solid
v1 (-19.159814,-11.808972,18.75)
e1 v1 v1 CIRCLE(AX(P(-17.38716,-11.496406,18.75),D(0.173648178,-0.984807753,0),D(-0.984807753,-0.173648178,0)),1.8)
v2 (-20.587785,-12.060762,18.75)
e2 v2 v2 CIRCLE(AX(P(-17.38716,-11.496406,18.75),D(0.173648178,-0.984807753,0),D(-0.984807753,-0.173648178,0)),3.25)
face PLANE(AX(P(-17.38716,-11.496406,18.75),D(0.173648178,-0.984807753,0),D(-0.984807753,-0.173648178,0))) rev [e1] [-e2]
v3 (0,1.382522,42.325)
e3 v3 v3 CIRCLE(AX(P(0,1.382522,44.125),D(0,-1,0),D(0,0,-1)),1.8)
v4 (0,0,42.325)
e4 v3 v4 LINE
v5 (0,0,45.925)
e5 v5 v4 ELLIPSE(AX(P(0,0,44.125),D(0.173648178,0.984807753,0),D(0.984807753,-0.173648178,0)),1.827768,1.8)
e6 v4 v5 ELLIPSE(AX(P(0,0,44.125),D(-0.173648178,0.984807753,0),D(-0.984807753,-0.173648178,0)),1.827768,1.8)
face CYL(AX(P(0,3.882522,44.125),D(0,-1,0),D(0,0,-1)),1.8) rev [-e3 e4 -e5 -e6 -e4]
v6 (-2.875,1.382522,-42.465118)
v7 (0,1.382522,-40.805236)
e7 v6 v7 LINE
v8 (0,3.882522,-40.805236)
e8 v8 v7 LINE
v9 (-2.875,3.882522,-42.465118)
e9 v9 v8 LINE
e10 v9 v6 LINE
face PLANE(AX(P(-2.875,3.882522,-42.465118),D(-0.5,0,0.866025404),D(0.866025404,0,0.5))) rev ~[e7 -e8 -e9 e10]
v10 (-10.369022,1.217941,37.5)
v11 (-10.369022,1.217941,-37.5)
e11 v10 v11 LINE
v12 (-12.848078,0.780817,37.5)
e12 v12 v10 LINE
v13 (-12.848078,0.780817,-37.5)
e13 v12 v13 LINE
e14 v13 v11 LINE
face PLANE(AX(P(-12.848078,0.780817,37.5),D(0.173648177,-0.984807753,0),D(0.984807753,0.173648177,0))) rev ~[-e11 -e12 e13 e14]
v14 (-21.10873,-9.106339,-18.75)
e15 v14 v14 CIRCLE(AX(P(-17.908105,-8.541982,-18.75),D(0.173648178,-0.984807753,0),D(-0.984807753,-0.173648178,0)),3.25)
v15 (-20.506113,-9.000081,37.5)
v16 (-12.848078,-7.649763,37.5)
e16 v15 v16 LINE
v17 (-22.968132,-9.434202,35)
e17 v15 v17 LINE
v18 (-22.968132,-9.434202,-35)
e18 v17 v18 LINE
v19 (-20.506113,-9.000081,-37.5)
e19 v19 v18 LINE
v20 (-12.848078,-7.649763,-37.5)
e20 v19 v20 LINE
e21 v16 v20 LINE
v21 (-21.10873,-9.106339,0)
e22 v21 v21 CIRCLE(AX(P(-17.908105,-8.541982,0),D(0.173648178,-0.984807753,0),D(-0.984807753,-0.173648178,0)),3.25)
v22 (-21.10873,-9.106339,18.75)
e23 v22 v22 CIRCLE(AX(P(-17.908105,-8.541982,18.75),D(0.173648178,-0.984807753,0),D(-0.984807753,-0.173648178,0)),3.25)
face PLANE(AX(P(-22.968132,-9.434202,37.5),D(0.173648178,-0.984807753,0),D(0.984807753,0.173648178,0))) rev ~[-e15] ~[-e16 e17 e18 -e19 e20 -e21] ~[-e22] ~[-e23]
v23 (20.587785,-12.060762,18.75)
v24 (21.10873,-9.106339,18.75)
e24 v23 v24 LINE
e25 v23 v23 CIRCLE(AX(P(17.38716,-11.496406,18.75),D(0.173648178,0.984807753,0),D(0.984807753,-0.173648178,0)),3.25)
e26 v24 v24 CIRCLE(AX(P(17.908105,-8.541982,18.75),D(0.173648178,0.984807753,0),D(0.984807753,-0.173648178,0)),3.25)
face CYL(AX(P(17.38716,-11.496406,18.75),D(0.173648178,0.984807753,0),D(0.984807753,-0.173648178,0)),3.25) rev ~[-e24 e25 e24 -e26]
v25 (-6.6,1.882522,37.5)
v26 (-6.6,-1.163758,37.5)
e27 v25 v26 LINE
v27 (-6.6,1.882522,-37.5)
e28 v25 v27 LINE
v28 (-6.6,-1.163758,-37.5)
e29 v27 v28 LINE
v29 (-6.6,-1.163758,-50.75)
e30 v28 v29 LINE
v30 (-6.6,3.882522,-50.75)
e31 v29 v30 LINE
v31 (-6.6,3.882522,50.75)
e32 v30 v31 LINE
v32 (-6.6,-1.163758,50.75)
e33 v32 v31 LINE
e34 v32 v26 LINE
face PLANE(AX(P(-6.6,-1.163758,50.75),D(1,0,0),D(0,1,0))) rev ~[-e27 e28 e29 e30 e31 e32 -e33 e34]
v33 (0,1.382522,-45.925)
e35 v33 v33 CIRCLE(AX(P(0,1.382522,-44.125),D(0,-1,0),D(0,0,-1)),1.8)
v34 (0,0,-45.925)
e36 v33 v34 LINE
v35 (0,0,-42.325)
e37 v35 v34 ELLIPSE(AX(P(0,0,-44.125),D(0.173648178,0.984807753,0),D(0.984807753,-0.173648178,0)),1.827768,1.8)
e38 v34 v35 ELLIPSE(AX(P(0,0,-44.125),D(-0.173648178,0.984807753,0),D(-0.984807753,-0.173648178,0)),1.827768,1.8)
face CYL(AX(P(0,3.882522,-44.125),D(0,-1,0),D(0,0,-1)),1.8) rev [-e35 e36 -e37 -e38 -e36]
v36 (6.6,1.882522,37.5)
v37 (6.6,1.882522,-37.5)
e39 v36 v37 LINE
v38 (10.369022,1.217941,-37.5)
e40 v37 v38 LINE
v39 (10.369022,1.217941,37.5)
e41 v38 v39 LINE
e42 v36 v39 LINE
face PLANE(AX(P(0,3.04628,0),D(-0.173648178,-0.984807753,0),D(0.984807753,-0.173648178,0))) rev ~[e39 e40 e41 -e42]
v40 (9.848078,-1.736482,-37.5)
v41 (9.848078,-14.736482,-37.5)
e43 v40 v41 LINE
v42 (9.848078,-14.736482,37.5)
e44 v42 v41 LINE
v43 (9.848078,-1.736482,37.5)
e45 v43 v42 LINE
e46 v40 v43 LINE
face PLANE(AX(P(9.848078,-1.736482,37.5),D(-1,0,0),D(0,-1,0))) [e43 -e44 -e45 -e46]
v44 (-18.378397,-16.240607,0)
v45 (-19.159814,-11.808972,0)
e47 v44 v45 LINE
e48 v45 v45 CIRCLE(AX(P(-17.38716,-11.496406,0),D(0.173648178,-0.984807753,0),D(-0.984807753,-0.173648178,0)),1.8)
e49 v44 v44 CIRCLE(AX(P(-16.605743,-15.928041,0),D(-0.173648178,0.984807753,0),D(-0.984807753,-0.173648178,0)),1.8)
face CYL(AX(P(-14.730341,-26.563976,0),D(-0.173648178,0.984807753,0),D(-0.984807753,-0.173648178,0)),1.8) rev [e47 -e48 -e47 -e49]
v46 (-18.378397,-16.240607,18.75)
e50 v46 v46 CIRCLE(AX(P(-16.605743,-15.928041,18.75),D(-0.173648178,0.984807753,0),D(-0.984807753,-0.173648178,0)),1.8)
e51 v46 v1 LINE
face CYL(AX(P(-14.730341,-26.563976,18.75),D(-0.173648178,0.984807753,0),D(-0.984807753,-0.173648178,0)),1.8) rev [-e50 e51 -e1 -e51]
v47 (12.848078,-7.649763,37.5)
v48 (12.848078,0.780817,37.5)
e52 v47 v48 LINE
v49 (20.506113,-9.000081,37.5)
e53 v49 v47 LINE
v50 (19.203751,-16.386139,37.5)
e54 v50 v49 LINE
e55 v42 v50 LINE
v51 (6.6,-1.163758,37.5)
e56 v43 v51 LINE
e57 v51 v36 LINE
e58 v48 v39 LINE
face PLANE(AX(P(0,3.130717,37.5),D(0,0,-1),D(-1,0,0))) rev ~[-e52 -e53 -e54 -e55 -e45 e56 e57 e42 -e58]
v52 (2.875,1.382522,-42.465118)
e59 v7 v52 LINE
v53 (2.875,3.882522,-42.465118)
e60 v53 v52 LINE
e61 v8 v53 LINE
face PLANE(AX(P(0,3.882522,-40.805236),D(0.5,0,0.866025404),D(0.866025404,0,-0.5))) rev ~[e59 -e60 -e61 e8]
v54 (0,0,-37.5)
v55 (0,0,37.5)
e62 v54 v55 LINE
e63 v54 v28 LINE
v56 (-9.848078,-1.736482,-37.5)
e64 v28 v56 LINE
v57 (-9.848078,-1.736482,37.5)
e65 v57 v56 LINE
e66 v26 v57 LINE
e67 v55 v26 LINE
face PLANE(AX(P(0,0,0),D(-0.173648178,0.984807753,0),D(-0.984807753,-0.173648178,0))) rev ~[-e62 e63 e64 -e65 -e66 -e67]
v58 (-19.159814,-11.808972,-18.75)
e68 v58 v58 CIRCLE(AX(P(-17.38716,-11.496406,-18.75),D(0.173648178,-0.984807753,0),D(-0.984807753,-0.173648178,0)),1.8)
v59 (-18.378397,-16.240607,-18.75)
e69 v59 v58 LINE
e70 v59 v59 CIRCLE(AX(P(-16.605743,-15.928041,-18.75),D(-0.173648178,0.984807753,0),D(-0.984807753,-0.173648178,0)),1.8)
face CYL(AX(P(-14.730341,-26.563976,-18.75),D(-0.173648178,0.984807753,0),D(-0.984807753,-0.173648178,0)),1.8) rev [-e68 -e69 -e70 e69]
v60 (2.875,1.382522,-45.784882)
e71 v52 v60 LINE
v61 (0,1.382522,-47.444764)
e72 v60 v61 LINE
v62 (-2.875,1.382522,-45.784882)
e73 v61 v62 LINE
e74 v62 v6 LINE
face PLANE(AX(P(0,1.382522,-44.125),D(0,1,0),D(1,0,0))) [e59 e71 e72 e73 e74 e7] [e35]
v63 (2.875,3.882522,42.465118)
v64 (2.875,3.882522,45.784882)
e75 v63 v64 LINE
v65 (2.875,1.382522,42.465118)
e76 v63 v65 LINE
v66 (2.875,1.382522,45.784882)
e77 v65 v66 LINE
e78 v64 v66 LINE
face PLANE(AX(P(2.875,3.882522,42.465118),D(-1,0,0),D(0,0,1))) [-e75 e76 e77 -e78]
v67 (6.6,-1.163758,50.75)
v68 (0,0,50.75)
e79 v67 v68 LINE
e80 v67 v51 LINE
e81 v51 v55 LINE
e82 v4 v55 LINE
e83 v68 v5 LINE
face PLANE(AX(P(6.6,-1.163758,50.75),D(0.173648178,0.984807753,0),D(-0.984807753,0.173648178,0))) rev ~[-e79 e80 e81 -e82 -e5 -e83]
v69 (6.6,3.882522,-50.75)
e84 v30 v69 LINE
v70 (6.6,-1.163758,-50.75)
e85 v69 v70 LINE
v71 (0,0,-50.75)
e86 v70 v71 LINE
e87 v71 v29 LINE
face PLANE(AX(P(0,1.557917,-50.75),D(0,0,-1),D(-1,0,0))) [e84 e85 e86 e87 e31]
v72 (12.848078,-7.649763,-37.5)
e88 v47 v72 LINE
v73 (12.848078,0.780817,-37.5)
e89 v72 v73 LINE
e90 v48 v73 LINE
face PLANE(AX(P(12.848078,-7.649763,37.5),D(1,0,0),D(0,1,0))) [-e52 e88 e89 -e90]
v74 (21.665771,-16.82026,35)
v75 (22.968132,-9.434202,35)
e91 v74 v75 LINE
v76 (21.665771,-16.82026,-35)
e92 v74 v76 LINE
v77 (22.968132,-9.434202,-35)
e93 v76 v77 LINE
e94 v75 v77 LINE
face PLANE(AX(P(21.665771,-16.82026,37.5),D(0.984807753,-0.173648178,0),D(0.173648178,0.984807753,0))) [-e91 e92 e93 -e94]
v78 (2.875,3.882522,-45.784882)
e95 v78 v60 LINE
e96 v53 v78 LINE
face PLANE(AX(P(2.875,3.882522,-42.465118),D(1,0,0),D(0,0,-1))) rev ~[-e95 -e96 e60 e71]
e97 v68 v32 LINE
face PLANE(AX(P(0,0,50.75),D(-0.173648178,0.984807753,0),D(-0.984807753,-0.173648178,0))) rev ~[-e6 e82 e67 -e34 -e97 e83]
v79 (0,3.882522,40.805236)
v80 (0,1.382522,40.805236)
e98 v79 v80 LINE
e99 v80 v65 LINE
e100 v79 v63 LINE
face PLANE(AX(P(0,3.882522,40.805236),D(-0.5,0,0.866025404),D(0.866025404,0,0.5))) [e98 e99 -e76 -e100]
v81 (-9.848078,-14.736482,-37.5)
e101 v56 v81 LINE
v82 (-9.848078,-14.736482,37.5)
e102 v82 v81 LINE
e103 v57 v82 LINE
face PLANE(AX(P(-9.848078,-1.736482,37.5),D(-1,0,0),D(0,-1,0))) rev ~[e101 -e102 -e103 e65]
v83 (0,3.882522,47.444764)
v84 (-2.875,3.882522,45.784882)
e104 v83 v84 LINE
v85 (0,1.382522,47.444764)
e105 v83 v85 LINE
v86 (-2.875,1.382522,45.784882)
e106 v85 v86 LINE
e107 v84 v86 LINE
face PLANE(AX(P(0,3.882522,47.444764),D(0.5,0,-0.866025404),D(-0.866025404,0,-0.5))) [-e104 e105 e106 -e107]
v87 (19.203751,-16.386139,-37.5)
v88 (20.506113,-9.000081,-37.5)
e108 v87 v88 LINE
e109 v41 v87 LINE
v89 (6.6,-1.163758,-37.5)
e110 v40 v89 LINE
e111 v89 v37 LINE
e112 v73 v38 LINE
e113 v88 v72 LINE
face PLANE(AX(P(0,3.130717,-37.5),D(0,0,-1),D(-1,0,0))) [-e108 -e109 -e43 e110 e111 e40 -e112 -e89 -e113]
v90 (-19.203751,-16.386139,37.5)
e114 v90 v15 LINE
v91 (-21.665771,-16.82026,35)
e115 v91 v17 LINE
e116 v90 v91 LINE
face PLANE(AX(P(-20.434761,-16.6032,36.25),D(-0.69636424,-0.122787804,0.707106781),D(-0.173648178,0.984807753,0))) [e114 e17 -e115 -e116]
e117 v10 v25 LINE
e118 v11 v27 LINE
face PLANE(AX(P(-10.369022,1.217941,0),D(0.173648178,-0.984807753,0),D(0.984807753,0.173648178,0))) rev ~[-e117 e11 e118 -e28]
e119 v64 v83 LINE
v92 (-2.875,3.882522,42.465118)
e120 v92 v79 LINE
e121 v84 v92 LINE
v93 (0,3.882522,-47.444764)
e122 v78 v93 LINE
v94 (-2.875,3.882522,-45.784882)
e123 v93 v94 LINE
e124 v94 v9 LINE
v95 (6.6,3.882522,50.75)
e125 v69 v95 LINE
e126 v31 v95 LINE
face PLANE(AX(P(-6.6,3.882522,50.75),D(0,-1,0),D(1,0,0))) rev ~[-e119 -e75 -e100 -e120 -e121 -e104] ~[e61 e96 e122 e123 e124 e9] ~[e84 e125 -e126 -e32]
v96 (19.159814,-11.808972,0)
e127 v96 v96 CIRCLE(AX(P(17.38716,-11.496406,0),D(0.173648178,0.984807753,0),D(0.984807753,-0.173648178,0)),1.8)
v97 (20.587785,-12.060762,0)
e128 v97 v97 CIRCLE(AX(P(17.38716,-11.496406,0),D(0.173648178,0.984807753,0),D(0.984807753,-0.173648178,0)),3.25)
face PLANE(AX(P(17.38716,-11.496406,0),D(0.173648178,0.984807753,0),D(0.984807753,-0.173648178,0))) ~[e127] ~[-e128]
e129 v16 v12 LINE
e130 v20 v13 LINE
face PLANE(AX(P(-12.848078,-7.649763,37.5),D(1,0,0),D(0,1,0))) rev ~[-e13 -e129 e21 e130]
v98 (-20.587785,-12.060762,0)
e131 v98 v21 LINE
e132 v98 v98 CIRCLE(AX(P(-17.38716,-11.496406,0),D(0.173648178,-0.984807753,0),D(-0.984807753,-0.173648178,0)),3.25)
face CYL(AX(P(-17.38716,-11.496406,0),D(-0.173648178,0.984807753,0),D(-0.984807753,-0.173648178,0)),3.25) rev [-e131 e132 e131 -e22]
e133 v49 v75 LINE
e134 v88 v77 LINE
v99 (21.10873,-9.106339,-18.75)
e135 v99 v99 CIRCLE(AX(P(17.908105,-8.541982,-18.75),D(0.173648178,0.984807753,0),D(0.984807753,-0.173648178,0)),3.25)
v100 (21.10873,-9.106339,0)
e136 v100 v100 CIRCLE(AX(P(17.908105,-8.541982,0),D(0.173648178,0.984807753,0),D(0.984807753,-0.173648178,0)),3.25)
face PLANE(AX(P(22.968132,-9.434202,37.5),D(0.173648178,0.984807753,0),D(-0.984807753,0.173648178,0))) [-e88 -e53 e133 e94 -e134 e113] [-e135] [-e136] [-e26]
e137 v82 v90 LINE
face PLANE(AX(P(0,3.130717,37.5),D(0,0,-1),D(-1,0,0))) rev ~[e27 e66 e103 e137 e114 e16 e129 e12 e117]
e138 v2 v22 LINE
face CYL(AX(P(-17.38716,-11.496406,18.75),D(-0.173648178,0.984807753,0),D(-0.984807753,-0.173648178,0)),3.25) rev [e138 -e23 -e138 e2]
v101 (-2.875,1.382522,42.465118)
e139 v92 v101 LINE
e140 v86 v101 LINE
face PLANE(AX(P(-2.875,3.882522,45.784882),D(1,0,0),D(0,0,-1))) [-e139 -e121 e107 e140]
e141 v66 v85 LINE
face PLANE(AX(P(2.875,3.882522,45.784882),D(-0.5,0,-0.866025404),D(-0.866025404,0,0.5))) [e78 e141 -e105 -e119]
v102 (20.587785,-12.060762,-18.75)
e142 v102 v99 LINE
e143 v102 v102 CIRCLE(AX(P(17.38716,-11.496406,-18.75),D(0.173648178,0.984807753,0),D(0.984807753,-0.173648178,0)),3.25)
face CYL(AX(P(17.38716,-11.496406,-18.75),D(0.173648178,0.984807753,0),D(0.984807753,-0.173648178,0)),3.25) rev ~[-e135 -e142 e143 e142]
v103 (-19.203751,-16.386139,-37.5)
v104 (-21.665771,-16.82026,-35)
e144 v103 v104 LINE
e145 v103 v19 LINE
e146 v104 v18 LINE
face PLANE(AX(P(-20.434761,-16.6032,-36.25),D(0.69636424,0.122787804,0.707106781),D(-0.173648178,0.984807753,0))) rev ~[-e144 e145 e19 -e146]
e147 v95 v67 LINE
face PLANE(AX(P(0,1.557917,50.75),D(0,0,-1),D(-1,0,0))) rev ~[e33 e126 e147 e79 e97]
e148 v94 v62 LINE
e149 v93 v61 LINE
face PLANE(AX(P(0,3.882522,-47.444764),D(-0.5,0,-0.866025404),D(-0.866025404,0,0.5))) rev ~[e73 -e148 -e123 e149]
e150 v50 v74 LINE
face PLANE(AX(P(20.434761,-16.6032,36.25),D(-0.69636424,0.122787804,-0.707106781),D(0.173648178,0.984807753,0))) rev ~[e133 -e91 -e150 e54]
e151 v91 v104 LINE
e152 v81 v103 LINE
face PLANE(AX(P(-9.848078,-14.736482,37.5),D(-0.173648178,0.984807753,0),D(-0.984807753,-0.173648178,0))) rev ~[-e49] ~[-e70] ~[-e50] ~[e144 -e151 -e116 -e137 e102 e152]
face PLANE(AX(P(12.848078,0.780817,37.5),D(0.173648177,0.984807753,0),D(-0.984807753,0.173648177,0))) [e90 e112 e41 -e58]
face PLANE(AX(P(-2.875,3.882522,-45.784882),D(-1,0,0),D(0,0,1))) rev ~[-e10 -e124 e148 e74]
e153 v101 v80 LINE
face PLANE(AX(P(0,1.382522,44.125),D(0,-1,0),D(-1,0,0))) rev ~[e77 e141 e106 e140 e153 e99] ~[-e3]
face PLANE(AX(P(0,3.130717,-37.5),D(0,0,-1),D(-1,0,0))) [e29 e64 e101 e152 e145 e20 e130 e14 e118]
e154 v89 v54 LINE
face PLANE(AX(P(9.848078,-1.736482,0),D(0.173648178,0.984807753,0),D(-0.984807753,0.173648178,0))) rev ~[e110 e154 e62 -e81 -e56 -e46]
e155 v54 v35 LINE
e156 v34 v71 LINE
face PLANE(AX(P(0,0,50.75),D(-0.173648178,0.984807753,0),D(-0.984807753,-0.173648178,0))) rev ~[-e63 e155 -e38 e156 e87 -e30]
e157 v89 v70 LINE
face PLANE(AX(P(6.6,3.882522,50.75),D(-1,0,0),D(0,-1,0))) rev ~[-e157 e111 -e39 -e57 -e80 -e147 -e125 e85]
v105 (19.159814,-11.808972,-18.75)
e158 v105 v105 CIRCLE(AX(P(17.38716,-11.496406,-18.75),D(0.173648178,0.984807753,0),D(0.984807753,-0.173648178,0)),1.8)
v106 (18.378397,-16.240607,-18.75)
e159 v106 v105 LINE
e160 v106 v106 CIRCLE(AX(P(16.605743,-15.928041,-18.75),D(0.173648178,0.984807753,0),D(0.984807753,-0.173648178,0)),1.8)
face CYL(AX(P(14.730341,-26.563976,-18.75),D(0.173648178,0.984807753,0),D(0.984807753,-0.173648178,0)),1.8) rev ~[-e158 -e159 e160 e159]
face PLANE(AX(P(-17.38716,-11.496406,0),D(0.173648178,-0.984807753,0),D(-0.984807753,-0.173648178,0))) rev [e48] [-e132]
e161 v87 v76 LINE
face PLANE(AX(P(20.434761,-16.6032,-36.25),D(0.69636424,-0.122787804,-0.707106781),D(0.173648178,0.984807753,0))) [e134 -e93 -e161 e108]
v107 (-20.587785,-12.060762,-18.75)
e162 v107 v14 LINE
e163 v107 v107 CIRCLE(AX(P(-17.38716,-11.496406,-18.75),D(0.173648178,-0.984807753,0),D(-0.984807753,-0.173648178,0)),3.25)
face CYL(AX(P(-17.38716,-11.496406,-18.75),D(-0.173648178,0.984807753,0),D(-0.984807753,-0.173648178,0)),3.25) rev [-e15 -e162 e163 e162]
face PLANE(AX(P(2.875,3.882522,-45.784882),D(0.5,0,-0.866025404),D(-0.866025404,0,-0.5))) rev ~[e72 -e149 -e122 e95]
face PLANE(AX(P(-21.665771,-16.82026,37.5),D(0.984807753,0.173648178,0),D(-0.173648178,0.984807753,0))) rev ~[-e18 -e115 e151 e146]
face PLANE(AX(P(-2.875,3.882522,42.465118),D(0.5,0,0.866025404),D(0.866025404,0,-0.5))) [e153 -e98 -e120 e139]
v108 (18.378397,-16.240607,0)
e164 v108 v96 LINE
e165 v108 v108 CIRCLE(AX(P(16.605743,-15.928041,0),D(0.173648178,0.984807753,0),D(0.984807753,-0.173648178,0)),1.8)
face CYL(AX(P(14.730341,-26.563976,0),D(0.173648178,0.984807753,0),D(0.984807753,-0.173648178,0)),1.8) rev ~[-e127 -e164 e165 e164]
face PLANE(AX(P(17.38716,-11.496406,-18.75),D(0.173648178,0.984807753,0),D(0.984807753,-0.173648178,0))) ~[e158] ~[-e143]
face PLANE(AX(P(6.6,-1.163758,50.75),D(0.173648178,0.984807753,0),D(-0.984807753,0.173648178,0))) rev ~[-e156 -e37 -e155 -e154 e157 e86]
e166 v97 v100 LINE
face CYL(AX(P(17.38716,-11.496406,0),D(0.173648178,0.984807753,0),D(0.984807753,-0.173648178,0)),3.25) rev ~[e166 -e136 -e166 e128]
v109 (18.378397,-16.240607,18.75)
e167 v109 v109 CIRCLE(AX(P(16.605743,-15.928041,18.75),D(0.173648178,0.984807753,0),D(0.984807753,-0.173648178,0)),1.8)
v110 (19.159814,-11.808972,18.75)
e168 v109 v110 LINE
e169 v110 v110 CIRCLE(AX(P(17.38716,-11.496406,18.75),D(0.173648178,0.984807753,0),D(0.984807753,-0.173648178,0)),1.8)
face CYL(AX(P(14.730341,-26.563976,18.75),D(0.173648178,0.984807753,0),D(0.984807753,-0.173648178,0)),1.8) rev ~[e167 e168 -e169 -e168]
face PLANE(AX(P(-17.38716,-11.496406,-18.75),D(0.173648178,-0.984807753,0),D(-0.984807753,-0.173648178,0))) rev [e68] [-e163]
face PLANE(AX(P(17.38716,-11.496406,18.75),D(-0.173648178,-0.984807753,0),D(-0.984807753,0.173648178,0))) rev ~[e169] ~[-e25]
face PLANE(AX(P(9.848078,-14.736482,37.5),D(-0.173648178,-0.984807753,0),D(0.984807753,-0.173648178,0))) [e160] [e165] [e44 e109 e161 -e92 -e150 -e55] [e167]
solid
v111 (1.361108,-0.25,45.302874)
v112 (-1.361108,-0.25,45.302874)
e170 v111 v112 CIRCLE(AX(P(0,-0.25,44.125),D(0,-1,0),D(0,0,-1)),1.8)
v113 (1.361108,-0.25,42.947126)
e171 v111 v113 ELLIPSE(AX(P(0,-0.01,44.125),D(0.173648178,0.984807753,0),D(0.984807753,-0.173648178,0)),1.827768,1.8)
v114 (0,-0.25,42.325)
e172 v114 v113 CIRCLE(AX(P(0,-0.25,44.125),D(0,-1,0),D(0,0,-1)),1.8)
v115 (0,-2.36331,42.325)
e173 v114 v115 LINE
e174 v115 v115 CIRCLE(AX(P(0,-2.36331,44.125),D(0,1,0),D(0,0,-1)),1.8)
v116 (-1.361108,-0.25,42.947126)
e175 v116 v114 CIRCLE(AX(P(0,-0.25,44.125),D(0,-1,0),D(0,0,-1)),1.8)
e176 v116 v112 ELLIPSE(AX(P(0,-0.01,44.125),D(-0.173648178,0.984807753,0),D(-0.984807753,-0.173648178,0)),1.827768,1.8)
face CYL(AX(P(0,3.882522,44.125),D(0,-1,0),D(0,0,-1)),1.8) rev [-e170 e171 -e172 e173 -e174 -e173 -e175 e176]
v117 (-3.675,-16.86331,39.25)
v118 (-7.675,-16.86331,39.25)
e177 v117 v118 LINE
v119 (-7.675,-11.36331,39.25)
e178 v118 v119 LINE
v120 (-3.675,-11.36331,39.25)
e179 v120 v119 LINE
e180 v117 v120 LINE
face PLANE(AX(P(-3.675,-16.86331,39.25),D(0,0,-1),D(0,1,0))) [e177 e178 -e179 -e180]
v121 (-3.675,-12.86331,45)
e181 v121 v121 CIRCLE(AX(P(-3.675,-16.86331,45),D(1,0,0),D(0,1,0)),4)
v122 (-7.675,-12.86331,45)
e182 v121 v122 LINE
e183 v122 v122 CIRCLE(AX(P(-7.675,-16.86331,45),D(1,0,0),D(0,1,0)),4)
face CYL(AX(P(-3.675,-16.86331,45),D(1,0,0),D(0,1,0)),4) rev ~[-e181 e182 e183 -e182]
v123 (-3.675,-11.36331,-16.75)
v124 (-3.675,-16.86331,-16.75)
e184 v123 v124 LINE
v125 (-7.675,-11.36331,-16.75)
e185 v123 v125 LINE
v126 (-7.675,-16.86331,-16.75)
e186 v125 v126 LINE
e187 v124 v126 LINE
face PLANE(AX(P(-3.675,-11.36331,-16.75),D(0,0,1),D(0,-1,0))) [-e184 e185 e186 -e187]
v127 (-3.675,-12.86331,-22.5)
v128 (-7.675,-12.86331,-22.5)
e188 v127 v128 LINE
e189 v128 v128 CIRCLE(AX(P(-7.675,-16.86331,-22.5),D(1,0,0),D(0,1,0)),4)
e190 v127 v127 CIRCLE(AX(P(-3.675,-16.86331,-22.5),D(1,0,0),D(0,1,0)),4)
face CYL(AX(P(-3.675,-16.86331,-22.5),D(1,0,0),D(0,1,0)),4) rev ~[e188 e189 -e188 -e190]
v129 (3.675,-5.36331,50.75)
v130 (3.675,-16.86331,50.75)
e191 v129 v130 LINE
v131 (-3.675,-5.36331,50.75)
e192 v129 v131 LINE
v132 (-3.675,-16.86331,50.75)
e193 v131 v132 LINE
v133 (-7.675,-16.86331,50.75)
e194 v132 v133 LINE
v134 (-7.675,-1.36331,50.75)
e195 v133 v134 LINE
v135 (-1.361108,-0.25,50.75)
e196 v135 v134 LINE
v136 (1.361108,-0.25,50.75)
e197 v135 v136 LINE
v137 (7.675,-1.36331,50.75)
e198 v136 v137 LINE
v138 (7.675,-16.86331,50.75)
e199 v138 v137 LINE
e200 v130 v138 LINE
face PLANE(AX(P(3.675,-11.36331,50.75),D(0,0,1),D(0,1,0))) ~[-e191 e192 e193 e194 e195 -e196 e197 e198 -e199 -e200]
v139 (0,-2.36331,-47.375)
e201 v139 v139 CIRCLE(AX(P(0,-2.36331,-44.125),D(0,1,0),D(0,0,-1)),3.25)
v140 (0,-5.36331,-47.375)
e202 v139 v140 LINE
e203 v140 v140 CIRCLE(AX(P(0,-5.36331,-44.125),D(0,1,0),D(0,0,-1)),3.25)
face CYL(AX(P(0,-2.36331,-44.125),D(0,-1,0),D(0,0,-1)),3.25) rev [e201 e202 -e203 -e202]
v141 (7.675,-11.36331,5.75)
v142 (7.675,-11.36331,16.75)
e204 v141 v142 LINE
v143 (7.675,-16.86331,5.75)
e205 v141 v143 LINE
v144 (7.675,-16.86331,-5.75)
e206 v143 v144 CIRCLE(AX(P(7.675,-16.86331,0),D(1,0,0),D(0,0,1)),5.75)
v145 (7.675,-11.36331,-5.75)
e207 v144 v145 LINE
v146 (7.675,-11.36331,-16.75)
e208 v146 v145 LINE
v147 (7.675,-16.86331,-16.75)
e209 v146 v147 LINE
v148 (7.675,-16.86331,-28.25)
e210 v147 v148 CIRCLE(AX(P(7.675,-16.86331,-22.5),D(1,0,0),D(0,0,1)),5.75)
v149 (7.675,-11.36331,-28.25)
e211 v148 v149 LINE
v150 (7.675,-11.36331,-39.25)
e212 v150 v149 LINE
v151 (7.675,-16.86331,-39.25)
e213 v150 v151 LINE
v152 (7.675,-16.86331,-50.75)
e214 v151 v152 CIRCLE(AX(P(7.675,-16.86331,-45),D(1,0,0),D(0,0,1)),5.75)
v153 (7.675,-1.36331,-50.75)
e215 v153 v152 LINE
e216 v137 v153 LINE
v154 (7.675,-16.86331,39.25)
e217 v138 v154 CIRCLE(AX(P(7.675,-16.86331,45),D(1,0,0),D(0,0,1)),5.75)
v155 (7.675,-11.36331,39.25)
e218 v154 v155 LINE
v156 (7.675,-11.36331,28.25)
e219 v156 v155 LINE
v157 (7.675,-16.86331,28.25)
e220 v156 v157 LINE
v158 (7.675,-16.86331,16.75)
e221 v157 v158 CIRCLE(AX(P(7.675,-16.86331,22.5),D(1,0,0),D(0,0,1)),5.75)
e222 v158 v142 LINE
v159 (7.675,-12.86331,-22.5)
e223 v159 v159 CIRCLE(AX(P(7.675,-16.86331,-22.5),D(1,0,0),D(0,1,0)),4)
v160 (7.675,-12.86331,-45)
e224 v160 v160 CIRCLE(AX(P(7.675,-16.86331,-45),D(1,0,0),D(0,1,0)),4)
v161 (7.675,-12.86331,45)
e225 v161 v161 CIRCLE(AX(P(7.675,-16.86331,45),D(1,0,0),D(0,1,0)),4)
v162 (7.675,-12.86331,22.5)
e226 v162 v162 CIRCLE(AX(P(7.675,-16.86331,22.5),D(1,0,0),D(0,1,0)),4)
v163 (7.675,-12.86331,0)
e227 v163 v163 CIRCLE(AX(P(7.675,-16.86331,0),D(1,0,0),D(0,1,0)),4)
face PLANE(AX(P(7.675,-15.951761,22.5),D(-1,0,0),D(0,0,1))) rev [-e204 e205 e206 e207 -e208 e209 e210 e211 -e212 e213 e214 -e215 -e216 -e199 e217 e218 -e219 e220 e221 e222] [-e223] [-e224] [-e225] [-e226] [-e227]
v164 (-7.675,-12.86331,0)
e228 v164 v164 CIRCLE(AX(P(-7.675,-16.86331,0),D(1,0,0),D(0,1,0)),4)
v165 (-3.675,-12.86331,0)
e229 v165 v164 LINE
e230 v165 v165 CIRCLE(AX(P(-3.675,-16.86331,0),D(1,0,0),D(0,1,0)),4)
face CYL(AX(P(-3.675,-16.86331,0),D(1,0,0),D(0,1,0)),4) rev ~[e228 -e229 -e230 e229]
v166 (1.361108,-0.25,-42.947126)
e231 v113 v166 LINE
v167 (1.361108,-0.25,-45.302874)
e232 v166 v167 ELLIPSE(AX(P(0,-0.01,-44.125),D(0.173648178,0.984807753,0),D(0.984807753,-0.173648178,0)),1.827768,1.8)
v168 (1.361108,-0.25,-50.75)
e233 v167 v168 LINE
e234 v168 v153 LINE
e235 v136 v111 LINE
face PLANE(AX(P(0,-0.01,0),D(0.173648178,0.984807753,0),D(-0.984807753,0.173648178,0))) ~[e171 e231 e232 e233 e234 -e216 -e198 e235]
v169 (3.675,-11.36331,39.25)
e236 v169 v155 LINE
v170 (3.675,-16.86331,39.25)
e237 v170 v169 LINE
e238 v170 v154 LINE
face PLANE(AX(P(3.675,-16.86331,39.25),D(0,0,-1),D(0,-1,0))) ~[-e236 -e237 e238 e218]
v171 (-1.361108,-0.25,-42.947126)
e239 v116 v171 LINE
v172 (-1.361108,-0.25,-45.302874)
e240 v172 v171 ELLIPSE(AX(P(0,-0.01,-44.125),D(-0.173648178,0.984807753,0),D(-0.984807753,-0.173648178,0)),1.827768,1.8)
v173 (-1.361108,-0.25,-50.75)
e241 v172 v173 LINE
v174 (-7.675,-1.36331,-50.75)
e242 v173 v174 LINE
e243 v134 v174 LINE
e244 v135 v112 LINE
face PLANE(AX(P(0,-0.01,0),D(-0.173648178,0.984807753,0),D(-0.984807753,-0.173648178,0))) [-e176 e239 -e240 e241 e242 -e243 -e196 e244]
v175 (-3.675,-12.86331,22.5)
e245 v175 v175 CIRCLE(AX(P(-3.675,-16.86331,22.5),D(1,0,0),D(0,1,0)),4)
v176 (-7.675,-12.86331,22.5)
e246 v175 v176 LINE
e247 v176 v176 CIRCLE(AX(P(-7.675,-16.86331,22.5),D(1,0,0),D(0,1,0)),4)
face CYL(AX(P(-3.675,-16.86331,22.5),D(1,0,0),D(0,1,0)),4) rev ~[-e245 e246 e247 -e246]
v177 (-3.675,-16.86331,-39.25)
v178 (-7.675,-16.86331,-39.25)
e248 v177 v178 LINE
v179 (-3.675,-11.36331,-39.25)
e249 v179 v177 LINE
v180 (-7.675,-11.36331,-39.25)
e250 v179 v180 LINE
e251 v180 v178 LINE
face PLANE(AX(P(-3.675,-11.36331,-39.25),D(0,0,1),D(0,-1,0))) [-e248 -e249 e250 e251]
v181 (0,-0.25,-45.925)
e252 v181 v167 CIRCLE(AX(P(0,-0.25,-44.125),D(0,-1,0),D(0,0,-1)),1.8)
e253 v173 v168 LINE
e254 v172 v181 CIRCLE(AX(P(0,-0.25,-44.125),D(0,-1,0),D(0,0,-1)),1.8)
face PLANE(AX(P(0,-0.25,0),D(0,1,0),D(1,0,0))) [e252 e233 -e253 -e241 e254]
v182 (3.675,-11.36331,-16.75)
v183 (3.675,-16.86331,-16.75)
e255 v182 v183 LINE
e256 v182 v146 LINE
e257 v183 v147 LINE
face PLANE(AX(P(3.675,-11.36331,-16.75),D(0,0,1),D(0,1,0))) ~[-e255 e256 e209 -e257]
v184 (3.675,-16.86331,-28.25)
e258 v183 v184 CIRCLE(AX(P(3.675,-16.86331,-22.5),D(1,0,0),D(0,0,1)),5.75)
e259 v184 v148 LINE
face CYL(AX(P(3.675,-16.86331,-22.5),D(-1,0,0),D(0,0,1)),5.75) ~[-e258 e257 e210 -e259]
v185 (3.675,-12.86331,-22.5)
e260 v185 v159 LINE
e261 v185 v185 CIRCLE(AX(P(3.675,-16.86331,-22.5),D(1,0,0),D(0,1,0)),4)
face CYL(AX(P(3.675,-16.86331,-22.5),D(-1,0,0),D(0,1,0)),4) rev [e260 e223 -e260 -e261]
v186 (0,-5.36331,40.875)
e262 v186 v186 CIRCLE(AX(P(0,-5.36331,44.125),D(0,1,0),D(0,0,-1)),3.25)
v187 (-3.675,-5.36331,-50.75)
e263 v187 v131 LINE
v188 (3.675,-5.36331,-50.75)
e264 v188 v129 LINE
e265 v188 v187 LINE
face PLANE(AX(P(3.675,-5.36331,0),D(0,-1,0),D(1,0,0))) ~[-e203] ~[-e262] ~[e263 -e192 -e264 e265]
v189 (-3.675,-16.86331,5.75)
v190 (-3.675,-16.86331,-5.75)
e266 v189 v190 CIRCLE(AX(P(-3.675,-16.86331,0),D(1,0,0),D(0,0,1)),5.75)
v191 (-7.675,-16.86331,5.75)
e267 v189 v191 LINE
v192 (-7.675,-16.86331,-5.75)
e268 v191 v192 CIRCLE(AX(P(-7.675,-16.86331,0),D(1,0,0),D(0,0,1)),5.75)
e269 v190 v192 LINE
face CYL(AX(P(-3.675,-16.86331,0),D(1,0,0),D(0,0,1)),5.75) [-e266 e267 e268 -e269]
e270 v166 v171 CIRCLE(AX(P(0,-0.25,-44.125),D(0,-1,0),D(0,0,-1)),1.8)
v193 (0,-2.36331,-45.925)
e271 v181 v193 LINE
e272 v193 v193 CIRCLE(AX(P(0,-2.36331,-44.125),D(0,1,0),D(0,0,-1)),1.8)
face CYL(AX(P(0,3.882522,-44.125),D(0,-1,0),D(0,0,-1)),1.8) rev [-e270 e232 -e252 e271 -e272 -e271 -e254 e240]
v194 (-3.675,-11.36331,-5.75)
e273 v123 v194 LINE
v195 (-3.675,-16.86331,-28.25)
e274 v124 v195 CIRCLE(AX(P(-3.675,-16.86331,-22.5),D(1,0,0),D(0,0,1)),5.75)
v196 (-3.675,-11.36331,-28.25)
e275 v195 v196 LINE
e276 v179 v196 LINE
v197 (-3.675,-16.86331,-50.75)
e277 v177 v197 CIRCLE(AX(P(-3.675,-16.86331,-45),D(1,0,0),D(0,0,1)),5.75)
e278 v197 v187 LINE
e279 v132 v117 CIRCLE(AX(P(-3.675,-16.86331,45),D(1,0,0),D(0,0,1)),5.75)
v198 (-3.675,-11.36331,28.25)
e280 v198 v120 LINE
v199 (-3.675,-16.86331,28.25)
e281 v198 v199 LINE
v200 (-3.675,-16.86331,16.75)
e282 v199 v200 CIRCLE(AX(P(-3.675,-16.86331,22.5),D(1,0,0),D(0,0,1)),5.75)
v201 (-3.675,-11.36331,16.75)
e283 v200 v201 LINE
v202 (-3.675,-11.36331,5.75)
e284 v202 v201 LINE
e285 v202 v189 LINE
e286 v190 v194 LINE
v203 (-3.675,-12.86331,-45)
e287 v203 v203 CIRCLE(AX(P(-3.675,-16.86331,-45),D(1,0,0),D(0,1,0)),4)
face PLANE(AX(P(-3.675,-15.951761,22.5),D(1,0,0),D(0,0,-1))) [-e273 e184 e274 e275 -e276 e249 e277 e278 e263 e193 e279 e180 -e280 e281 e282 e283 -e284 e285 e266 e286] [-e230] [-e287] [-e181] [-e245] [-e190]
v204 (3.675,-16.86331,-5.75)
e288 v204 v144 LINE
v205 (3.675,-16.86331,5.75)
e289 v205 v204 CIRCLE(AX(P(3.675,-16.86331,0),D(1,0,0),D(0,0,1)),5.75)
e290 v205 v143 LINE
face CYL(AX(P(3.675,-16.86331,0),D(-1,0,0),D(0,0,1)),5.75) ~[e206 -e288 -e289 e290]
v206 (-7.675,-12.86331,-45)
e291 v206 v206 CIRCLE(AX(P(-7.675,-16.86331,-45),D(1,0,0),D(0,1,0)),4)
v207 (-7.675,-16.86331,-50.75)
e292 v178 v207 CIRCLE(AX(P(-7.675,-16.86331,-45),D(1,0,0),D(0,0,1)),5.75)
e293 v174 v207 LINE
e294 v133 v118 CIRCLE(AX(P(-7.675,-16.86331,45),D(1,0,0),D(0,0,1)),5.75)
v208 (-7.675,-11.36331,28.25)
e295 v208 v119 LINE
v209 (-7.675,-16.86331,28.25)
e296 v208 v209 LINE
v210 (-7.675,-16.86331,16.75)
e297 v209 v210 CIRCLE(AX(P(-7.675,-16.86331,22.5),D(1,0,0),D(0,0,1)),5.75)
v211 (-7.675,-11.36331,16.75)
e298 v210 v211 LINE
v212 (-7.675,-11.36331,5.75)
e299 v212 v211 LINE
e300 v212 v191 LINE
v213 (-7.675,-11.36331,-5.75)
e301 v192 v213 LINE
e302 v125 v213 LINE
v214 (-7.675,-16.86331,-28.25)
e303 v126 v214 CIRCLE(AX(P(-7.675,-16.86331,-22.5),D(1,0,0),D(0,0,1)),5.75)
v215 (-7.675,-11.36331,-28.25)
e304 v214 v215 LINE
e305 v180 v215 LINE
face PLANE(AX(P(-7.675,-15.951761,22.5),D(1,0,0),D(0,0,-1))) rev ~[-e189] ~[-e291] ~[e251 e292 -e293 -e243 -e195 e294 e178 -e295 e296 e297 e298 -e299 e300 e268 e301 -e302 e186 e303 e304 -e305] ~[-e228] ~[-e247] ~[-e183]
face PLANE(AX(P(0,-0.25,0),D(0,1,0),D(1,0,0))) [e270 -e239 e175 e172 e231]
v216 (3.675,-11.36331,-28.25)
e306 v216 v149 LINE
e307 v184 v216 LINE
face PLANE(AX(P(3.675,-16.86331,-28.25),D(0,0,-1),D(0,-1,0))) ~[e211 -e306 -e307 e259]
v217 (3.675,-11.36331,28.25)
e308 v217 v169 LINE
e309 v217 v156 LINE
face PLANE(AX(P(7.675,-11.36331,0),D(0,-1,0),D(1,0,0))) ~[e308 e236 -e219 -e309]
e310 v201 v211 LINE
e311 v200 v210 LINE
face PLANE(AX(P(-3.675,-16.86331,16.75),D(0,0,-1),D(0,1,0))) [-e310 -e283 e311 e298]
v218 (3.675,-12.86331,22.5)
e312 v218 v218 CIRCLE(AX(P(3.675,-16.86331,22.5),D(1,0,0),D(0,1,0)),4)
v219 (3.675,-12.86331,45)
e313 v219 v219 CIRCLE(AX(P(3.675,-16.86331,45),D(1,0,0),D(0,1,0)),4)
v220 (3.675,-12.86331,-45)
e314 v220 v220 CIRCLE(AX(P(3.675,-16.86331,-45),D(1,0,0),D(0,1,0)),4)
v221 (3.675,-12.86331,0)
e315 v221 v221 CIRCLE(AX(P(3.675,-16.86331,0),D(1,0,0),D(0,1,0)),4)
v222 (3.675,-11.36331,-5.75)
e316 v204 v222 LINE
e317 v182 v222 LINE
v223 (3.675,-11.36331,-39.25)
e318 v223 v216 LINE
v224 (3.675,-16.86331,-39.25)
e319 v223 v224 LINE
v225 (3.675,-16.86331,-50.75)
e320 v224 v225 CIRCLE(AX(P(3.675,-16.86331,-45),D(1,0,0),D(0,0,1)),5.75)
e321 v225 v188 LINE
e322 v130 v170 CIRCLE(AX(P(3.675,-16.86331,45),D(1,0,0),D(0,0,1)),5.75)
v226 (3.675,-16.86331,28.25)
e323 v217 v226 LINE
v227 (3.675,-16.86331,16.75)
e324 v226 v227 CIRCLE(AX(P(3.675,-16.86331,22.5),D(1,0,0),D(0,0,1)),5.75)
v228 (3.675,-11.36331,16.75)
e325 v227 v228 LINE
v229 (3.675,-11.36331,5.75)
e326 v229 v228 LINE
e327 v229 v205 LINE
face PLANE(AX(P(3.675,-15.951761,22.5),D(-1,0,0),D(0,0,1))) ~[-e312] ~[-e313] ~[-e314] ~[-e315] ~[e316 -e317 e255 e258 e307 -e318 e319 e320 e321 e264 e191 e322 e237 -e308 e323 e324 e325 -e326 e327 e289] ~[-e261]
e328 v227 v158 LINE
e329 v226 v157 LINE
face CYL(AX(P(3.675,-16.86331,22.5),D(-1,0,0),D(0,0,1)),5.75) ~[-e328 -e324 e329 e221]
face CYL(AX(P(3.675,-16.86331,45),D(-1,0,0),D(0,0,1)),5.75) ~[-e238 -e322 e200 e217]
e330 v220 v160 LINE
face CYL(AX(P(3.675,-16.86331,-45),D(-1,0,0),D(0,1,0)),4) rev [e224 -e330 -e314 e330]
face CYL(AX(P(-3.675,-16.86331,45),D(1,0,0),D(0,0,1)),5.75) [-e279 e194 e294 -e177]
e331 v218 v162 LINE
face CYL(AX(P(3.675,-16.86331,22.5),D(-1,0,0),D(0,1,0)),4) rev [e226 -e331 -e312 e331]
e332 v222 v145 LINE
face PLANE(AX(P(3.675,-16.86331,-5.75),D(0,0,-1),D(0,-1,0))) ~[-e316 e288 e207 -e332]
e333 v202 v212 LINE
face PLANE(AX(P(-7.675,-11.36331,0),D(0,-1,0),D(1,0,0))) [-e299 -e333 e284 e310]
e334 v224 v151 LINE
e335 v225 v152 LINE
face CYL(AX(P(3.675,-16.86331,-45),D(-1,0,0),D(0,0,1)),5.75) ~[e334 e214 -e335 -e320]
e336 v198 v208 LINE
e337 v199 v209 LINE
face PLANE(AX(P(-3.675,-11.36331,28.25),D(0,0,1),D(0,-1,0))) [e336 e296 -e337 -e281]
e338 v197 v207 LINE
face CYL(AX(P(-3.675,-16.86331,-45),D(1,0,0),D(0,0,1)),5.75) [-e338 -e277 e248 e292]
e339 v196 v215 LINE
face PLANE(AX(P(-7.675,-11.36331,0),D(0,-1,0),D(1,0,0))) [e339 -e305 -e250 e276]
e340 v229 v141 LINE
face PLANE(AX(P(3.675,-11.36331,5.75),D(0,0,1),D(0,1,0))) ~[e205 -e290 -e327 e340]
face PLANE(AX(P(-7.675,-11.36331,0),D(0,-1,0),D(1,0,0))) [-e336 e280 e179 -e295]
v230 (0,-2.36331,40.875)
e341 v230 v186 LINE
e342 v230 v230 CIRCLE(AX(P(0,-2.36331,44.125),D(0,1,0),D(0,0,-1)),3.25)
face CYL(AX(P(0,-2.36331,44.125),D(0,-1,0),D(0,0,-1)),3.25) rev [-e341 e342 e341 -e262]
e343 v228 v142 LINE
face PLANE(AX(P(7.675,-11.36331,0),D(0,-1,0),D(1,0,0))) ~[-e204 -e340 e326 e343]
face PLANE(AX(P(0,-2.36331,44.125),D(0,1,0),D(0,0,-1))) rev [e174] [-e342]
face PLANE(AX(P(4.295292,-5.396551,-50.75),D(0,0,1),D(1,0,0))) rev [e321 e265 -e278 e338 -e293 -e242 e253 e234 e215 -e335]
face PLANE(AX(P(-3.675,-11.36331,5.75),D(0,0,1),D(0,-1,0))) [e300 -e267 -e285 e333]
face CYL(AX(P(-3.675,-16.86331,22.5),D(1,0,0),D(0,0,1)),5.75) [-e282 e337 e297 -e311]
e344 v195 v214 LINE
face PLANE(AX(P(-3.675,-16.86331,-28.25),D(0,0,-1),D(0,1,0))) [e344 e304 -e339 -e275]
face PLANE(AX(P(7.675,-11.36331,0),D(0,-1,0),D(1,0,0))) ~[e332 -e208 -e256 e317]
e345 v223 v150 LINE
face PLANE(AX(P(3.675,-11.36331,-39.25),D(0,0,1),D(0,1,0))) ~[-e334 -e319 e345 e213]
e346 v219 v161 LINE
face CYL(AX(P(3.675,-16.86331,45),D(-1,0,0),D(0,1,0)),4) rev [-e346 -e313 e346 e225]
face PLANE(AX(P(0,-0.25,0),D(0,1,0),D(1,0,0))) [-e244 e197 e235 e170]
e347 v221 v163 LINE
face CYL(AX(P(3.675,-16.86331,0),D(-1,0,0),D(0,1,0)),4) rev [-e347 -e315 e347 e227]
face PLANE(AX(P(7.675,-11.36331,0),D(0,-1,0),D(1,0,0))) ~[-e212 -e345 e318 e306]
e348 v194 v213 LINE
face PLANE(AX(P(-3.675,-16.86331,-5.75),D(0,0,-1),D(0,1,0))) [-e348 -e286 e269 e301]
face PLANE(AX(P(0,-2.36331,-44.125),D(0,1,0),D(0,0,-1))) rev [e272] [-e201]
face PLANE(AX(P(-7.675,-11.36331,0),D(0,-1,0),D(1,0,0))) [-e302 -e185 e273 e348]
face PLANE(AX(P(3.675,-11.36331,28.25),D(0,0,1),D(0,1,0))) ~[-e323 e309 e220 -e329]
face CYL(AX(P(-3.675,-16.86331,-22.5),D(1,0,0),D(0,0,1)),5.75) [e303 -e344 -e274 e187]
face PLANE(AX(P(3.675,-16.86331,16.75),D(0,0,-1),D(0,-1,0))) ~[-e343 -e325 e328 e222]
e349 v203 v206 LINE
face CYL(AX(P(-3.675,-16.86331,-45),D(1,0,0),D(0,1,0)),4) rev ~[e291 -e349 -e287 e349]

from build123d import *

# Parameters (mm, degrees)
BOSS_EXTRUDE1_DEPTH           = 37.5
BOSS_EXTRUDE4_DEPTH           = 75
CHAMFER1_SIZE                 = 2.5
BOSS_EXTRUDE6_DEPTH           = 50.75
SKETCH10_R                    = 4
BOSS_EXTRUDE7_DEPTH           = 4
LPATTERN1_COUNT               = 5
LPATTERN1_PITCH               = 22.5
BOSS_EXTRUDE9_DEPTH           = 75
BOSS_EXTRUDE10_START          = -88.25
BOSS_EXTRUDE10_DEPTH          = 101.5
CBORE_FOR_M3_SHCS1_AT_2_COUNT = 2
CBORE_FOR_M3_SHCS1_AT_2_PITCH = 88.25
CUT_EXTRUDE1_DEPTH            = 2.5
CBORE_FOR_M3_SHCS2_AT_2_COUNT = 2
CBORE_FOR_M3_SHCS2_AT_2_PITCH = 18.75
CBORE_FOR_M3_SHCS2_AT_3_COUNT = 2
CBORE_FOR_M3_SHCS2_AT_3_PITCH = 37.5
SKETCH19_W                    = 4
SKETCH19_H                    = 101.5
CUT_EXTRUDE2_DEPTH            = 0.25


with BuildPart() as part:
    # Sketch2 → Boss-Extrude1 (new, symmetric)
    with BuildSketch(Plane.XY):
        Polygon((0, 0), (-9.84807753, -1.736481777), (-10.369022063, 1.217941482), (0, 3.046279836), (10.369022063, 1.217941482), (9.84807753, -1.736481777), align=None)
    extrude(amount=BOSS_EXTRUDE1_DEPTH, both=True)

    # Sketch5 → Boss-Extrude4 (add)
    with BuildSketch(Plane.XY.offset(37.5)):
        Polygon((-9.84807753, -1.736481777), (-9.84807753, -14.736481777), (-21.665770566, -16.820259909), (-22.968131899, -9.434201761), (-12.84807753, -7.64976313), (-12.84807753, 0.780817117), (-10.369022063, 1.217941482), align=None)
        Polygon((10.369022063, 1.217941482), (9.84807753, -1.736481777), (9.84807753, -14.736481777), (21.665770566, -16.820259909), (22.968131899, -9.434201761), (12.84807753, -7.64976313), (12.84807753, 0.780817117), align=None)
    extrude(amount=-BOSS_EXTRUDE4_DEPTH)

    # Chamfer1
    chamfer1_edges = [part.edges().sort_by_distance(p)[0] for p in [
        (-22.316951233, -13.127230835, 37.5),
        (-22.316951233, -13.127230835, -37.5),
        (22.316951233, -13.127230835, 37.5),
        (22.316951233, -13.127230835, -37.5),
    ]]
    chamfer(chamfer1_edges, length=CHAMFER1_SIZE)

    # Sketch11 → Boss-Extrude9 (add)
    with BuildSketch(Plane.XY.offset(37.5)):
        Polygon((-6.6, 1.882521763), (-6.6, 3.882521763), (6.6, 3.882521763), (6.6, 1.882521763), (0, 3.046279836), align=None)
    extrude(amount=-BOSS_EXTRUDE9_DEPTH)

    # Sketch18 → Boss-Extrude10 (add)
    with BuildSketch(Plane(origin=(0, 0, -37.5), x_dir=(-1, 0, 0), z_dir=(0, 0, -1)).offset(BOSS_EXTRUDE10_START)):
        Polygon((-6.6, 3.882521763), (-6.6, 1.882521763), (-6.6, -1.163758073), (0, 0), (6.6, -1.163758073), (6.6, 1.882521763), (6.6, 3.882521763), align=None)
    extrude(amount=BOSS_EXTRUDE10_DEPTH)


with BuildPart() as body_2:
    # Sketch8 → Boss-Extrude6 (new, symmetric)
    with BuildSketch(Plane.XY):
        Polygon((-7.675, -1.363309577), (-7.675, -11.363309577), (-3.675, -11.363309577), (-3.675, -5.363309577), (0, -5.363309577), (0, -0.01), align=None)
    extrude(amount=BOSS_EXTRUDE6_DEPTH, both=True)

    # Sketch10 → Boss-Extrude7 (add)
    # profile 1 of 3: a face of its own
    with BuildSketch(Plane(origin=(-3.675, 0, 0), x_dir=(0, 0, -1), z_dir=(1, 0, 0))):
        with BuildLine():
            Line((-39.25, -11.363309577), (-50.75, -11.363309577))
            Line((-50.75, -11.363309577), (-50.75, -16.863309577))
            ThreePointArc((-50.75, -16.863309577), (-45, -22.613309577), (-39.25, -16.863309577))
            Line((-39.25, -16.863309577), (-39.25, -11.363309577))
        make_face()
        with Locations(Location((-45, -16.863309577, 0), (0, 0, 90))):
            Circle(SKETCH10_R, mode=Mode.SUBTRACT)
    # profile 2 of 3: a face of its own
    with BuildSketch(Plane(origin=(-3.675, 0, 0), x_dir=(0, 0, -1), z_dir=(1, 0, 0))):
        with BuildLine():
            Line((-39.25, -11.363309577), (-50.75, -11.363309577))
            Line((-50.75, -11.363309577), (-50.75, -16.863309577))
            ThreePointArc((-50.75, -16.863309577), (-45, -22.613309577), (-39.25, -16.863309577))
            Line((-39.25, -16.863309577), (-39.25, -11.363309577))
        make_face()
        with Locations(Location((-45, -16.863309577, 0), (0, 0, 90))):
            Circle(SKETCH10_R, mode=Mode.SUBTRACT)
    # profile 3 of 3: a face of its own
    with BuildSketch(Plane(origin=(-3.675, 0, 0), x_dir=(0, 0, -1), z_dir=(1, 0, 0))):
        with BuildLine():
            Line((-39.25, -11.363309577), (-50.75, -11.363309577))
            Line((-50.75, -11.363309577), (-50.75, -16.863309577))
            ThreePointArc((-50.75, -16.863309577), (-45, -22.613309577), (-39.25, -16.863309577))
            Line((-39.25, -16.863309577), (-39.25, -11.363309577))
        make_face()
        with Locations(Location((-45, -16.863309577, 0), (0, 0, 90))):
            Circle(SKETCH10_R, mode=Mode.SUBTRACT)
    boss_extrude7 = extrude(amount=-BOSS_EXTRUDE7_DEPTH)

    # LPattern1: Boss-Extrude7 ×5
    with Locations(*[(0, 0, -i * LPATTERN1_PITCH) for i in range(1, LPATTERN1_COUNT)]):
        add(boss_extrude7)

    # Mirror8: body 2 across plane


with BuildPart() as body_2_1:
    add(body_2.part)
    add(body_2.part.mirror(Plane(origin=(0, 0, 0), x_dir=(0, 0, 1), z_dir=(1, 0, 0))))


with BuildPart() as cbore_for_m3_shcs1_tool:
    # Sketch14 → CBORE for M3 SHCS1 (revolve)
    with BuildSketch(Plane(origin=(0, -5.363309577, 44.125), x_dir=(0, 0, -1), z_dir=(1, 0, 0))):
        Polygon((0, 0), (0, 9.24583134), (1.8, 9.24583134), (1.8, 3), (3.25, 3), (3.25, 0), align=None)
    cbore_for_m3_shcs1 = revolve(axis=Axis((0, -11.713309577, 44.125), (0, 1, 0)))


with BuildPart() as part_1:
    add(part.part)

    # CBORE for M3 SHCS1: cut by cbore_for_m3_shcs1_tool
    add(cbore_for_m3_shcs1_tool.part, mode=Mode.SUBTRACT)


with BuildPart() as body_2_2:
    add(body_2_1.part)

    # CBORE for M3 SHCS1: cut by cbore_for_m3_shcs1_tool
    add(cbore_for_m3_shcs1_tool.part, mode=Mode.SUBTRACT)


with BuildPart() as cbore_for_m3_shcs1_at_2_tool:
    # CBORE for M3 SHCS1 at 2: CBORE for M3 SHCS1 ×2
    with Locations(*[(0, 0, -i * CBORE_FOR_M3_SHCS1_AT_2_PITCH) for i in range(1, CBORE_FOR_M3_SHCS1_AT_2_COUNT)]):
        add(cbore_for_m3_shcs1)


with BuildPart() as part_2:
    add(part_1.part)

    # CBORE for M3 SHCS1 at 2: cut by cbore_for_m3_shcs1_at_2_tool
    add(cbore_for_m3_shcs1_at_2_tool.part, mode=Mode.SUBTRACT)

    # Sketch15 → Cut-Extrude1 (cut)
    with BuildSketch(Plane(origin=(0, 3.882521763, 0), x_dir=(1, 0, 0), z_dir=(0, 1, 0))):
        Polygon((0, -40.805235952), (2.875, -42.465117976), (2.875, -45.784882024), (0, -47.444764048), (-2.875, -45.784882024), (-2.875, -42.465117976), align=None)
        Polygon((2.875, 42.465117976), (2.875, 45.784882024), (0, 47.444764048), (-2.875, 45.784882024), (-2.875, 42.465117976), (0, 40.805235952), align=None)
    extrude(amount=-CUT_EXTRUDE1_DEPTH, mode=Mode.SUBTRACT)

    # Sketch17 → CBORE for M3 SHCS2 (revolve, cut)
    with BuildSketch(Plane(origin=(-17.908104714, -8.541982445, 18.75), x_dir=(-0.9848077530122079, -0.1736481776669312, 0), z_dir=(0, 0, 1))):
        Polygon((0, 0), (0, 18.300011567), (1.8, 18.300011567), (1.8, 3), (3.25, 3), (3.25, 0), align=None)
    cbore_for_m3_shcs2 = revolve(axis=Axis((-19.010770643, -2.288453214, 18.75), (0.1736481776669312, -0.9848077530122079, 0)), mode=Mode.SUBTRACT)

    # CBORE for M3 SHCS2 at 2: CBORE for M3 SHCS2 ×2
    with Locations(*[(0, 0, -i * CBORE_FOR_M3_SHCS2_AT_2_PITCH) for i in range(1, CBORE_FOR_M3_SHCS2_AT_2_COUNT)]):
        add(cbore_for_m3_shcs2, mode=Mode.SUBTRACT)

    # CBORE for M3 SHCS2 at 3: CBORE for M3 SHCS2 ×2
    with Locations(*[(0, 0, -i * CBORE_FOR_M3_SHCS2_AT_3_PITCH) for i in range(1, CBORE_FOR_M3_SHCS2_AT_3_COUNT)]):
        add(cbore_for_m3_shcs2, mode=Mode.SUBTRACT)

    # Mirror9: CBORE for M3 SHCS2 across plane
    add(cbore_for_m3_shcs2.mirror(Plane(origin=(0, 0, 0), x_dir=(0, 0, 1), z_dir=(1, 0, 0))), mode=Mode.SUBTRACT)

    # Mirror9 copy 1 sketch → Mirror9 copy 1 (revolve, cut)
    with BuildSketch(Plane(origin=(17.908104714, -8.541982445, 0), x_dir=(0.9848077530122079, -0.1736481776669312, 0), z_dir=(0, 0, 1))):
        Polygon((0, 0), (0, -18.300011567), (1.8, -18.300011567), (1.8, -3), (3.25, -3), (3.25, 0), align=None)
    revolve(axis=Axis((19.010770643, -2.288453214, 0), (0.1736481776669312, 0.9848077530122079, 0)), mode=Mode.SUBTRACT)

    # Mirror9 copy 2 sketch → Mirror9 copy 2 (revolve, cut)
    with BuildSketch(Plane(origin=(17.908104714, -8.541982445, -18.75), x_dir=(0.9848077530122079, -0.1736481776669312, 0), z_dir=(0, 0, 1))):
        Polygon((0, 0), (0, -18.300011567), (1.8, -18.300011567), (1.8, -3), (3.25, -3), (3.25, 0), align=None)
    revolve(axis=Axis((19.010770643, -2.288453214, -18.75), (0.1736481776669312, 0.9848077530122079, 0)), mode=Mode.SUBTRACT)


with BuildPart() as body_2_3:
    add(body_2_2.part)

    # CBORE for M3 SHCS1 at 2: cut by cbore_for_m3_shcs1_at_2_tool
    add(cbore_for_m3_shcs1_at_2_tool.part, mode=Mode.SUBTRACT)

    # Sketch19 → Cut-Extrude2 (cut)
    with BuildSketch(Plane(origin=(0, 0, 0), x_dir=(1, 0, 0), z_dir=(0, 1, 0))):
        Rectangle(SKETCH19_W, SKETCH19_H)
    extrude(amount=-CUT_EXTRUDE2_DEPTH, mode=Mode.SUBTRACT)


solid = Compound([part_2.part, body_2_3.part])
